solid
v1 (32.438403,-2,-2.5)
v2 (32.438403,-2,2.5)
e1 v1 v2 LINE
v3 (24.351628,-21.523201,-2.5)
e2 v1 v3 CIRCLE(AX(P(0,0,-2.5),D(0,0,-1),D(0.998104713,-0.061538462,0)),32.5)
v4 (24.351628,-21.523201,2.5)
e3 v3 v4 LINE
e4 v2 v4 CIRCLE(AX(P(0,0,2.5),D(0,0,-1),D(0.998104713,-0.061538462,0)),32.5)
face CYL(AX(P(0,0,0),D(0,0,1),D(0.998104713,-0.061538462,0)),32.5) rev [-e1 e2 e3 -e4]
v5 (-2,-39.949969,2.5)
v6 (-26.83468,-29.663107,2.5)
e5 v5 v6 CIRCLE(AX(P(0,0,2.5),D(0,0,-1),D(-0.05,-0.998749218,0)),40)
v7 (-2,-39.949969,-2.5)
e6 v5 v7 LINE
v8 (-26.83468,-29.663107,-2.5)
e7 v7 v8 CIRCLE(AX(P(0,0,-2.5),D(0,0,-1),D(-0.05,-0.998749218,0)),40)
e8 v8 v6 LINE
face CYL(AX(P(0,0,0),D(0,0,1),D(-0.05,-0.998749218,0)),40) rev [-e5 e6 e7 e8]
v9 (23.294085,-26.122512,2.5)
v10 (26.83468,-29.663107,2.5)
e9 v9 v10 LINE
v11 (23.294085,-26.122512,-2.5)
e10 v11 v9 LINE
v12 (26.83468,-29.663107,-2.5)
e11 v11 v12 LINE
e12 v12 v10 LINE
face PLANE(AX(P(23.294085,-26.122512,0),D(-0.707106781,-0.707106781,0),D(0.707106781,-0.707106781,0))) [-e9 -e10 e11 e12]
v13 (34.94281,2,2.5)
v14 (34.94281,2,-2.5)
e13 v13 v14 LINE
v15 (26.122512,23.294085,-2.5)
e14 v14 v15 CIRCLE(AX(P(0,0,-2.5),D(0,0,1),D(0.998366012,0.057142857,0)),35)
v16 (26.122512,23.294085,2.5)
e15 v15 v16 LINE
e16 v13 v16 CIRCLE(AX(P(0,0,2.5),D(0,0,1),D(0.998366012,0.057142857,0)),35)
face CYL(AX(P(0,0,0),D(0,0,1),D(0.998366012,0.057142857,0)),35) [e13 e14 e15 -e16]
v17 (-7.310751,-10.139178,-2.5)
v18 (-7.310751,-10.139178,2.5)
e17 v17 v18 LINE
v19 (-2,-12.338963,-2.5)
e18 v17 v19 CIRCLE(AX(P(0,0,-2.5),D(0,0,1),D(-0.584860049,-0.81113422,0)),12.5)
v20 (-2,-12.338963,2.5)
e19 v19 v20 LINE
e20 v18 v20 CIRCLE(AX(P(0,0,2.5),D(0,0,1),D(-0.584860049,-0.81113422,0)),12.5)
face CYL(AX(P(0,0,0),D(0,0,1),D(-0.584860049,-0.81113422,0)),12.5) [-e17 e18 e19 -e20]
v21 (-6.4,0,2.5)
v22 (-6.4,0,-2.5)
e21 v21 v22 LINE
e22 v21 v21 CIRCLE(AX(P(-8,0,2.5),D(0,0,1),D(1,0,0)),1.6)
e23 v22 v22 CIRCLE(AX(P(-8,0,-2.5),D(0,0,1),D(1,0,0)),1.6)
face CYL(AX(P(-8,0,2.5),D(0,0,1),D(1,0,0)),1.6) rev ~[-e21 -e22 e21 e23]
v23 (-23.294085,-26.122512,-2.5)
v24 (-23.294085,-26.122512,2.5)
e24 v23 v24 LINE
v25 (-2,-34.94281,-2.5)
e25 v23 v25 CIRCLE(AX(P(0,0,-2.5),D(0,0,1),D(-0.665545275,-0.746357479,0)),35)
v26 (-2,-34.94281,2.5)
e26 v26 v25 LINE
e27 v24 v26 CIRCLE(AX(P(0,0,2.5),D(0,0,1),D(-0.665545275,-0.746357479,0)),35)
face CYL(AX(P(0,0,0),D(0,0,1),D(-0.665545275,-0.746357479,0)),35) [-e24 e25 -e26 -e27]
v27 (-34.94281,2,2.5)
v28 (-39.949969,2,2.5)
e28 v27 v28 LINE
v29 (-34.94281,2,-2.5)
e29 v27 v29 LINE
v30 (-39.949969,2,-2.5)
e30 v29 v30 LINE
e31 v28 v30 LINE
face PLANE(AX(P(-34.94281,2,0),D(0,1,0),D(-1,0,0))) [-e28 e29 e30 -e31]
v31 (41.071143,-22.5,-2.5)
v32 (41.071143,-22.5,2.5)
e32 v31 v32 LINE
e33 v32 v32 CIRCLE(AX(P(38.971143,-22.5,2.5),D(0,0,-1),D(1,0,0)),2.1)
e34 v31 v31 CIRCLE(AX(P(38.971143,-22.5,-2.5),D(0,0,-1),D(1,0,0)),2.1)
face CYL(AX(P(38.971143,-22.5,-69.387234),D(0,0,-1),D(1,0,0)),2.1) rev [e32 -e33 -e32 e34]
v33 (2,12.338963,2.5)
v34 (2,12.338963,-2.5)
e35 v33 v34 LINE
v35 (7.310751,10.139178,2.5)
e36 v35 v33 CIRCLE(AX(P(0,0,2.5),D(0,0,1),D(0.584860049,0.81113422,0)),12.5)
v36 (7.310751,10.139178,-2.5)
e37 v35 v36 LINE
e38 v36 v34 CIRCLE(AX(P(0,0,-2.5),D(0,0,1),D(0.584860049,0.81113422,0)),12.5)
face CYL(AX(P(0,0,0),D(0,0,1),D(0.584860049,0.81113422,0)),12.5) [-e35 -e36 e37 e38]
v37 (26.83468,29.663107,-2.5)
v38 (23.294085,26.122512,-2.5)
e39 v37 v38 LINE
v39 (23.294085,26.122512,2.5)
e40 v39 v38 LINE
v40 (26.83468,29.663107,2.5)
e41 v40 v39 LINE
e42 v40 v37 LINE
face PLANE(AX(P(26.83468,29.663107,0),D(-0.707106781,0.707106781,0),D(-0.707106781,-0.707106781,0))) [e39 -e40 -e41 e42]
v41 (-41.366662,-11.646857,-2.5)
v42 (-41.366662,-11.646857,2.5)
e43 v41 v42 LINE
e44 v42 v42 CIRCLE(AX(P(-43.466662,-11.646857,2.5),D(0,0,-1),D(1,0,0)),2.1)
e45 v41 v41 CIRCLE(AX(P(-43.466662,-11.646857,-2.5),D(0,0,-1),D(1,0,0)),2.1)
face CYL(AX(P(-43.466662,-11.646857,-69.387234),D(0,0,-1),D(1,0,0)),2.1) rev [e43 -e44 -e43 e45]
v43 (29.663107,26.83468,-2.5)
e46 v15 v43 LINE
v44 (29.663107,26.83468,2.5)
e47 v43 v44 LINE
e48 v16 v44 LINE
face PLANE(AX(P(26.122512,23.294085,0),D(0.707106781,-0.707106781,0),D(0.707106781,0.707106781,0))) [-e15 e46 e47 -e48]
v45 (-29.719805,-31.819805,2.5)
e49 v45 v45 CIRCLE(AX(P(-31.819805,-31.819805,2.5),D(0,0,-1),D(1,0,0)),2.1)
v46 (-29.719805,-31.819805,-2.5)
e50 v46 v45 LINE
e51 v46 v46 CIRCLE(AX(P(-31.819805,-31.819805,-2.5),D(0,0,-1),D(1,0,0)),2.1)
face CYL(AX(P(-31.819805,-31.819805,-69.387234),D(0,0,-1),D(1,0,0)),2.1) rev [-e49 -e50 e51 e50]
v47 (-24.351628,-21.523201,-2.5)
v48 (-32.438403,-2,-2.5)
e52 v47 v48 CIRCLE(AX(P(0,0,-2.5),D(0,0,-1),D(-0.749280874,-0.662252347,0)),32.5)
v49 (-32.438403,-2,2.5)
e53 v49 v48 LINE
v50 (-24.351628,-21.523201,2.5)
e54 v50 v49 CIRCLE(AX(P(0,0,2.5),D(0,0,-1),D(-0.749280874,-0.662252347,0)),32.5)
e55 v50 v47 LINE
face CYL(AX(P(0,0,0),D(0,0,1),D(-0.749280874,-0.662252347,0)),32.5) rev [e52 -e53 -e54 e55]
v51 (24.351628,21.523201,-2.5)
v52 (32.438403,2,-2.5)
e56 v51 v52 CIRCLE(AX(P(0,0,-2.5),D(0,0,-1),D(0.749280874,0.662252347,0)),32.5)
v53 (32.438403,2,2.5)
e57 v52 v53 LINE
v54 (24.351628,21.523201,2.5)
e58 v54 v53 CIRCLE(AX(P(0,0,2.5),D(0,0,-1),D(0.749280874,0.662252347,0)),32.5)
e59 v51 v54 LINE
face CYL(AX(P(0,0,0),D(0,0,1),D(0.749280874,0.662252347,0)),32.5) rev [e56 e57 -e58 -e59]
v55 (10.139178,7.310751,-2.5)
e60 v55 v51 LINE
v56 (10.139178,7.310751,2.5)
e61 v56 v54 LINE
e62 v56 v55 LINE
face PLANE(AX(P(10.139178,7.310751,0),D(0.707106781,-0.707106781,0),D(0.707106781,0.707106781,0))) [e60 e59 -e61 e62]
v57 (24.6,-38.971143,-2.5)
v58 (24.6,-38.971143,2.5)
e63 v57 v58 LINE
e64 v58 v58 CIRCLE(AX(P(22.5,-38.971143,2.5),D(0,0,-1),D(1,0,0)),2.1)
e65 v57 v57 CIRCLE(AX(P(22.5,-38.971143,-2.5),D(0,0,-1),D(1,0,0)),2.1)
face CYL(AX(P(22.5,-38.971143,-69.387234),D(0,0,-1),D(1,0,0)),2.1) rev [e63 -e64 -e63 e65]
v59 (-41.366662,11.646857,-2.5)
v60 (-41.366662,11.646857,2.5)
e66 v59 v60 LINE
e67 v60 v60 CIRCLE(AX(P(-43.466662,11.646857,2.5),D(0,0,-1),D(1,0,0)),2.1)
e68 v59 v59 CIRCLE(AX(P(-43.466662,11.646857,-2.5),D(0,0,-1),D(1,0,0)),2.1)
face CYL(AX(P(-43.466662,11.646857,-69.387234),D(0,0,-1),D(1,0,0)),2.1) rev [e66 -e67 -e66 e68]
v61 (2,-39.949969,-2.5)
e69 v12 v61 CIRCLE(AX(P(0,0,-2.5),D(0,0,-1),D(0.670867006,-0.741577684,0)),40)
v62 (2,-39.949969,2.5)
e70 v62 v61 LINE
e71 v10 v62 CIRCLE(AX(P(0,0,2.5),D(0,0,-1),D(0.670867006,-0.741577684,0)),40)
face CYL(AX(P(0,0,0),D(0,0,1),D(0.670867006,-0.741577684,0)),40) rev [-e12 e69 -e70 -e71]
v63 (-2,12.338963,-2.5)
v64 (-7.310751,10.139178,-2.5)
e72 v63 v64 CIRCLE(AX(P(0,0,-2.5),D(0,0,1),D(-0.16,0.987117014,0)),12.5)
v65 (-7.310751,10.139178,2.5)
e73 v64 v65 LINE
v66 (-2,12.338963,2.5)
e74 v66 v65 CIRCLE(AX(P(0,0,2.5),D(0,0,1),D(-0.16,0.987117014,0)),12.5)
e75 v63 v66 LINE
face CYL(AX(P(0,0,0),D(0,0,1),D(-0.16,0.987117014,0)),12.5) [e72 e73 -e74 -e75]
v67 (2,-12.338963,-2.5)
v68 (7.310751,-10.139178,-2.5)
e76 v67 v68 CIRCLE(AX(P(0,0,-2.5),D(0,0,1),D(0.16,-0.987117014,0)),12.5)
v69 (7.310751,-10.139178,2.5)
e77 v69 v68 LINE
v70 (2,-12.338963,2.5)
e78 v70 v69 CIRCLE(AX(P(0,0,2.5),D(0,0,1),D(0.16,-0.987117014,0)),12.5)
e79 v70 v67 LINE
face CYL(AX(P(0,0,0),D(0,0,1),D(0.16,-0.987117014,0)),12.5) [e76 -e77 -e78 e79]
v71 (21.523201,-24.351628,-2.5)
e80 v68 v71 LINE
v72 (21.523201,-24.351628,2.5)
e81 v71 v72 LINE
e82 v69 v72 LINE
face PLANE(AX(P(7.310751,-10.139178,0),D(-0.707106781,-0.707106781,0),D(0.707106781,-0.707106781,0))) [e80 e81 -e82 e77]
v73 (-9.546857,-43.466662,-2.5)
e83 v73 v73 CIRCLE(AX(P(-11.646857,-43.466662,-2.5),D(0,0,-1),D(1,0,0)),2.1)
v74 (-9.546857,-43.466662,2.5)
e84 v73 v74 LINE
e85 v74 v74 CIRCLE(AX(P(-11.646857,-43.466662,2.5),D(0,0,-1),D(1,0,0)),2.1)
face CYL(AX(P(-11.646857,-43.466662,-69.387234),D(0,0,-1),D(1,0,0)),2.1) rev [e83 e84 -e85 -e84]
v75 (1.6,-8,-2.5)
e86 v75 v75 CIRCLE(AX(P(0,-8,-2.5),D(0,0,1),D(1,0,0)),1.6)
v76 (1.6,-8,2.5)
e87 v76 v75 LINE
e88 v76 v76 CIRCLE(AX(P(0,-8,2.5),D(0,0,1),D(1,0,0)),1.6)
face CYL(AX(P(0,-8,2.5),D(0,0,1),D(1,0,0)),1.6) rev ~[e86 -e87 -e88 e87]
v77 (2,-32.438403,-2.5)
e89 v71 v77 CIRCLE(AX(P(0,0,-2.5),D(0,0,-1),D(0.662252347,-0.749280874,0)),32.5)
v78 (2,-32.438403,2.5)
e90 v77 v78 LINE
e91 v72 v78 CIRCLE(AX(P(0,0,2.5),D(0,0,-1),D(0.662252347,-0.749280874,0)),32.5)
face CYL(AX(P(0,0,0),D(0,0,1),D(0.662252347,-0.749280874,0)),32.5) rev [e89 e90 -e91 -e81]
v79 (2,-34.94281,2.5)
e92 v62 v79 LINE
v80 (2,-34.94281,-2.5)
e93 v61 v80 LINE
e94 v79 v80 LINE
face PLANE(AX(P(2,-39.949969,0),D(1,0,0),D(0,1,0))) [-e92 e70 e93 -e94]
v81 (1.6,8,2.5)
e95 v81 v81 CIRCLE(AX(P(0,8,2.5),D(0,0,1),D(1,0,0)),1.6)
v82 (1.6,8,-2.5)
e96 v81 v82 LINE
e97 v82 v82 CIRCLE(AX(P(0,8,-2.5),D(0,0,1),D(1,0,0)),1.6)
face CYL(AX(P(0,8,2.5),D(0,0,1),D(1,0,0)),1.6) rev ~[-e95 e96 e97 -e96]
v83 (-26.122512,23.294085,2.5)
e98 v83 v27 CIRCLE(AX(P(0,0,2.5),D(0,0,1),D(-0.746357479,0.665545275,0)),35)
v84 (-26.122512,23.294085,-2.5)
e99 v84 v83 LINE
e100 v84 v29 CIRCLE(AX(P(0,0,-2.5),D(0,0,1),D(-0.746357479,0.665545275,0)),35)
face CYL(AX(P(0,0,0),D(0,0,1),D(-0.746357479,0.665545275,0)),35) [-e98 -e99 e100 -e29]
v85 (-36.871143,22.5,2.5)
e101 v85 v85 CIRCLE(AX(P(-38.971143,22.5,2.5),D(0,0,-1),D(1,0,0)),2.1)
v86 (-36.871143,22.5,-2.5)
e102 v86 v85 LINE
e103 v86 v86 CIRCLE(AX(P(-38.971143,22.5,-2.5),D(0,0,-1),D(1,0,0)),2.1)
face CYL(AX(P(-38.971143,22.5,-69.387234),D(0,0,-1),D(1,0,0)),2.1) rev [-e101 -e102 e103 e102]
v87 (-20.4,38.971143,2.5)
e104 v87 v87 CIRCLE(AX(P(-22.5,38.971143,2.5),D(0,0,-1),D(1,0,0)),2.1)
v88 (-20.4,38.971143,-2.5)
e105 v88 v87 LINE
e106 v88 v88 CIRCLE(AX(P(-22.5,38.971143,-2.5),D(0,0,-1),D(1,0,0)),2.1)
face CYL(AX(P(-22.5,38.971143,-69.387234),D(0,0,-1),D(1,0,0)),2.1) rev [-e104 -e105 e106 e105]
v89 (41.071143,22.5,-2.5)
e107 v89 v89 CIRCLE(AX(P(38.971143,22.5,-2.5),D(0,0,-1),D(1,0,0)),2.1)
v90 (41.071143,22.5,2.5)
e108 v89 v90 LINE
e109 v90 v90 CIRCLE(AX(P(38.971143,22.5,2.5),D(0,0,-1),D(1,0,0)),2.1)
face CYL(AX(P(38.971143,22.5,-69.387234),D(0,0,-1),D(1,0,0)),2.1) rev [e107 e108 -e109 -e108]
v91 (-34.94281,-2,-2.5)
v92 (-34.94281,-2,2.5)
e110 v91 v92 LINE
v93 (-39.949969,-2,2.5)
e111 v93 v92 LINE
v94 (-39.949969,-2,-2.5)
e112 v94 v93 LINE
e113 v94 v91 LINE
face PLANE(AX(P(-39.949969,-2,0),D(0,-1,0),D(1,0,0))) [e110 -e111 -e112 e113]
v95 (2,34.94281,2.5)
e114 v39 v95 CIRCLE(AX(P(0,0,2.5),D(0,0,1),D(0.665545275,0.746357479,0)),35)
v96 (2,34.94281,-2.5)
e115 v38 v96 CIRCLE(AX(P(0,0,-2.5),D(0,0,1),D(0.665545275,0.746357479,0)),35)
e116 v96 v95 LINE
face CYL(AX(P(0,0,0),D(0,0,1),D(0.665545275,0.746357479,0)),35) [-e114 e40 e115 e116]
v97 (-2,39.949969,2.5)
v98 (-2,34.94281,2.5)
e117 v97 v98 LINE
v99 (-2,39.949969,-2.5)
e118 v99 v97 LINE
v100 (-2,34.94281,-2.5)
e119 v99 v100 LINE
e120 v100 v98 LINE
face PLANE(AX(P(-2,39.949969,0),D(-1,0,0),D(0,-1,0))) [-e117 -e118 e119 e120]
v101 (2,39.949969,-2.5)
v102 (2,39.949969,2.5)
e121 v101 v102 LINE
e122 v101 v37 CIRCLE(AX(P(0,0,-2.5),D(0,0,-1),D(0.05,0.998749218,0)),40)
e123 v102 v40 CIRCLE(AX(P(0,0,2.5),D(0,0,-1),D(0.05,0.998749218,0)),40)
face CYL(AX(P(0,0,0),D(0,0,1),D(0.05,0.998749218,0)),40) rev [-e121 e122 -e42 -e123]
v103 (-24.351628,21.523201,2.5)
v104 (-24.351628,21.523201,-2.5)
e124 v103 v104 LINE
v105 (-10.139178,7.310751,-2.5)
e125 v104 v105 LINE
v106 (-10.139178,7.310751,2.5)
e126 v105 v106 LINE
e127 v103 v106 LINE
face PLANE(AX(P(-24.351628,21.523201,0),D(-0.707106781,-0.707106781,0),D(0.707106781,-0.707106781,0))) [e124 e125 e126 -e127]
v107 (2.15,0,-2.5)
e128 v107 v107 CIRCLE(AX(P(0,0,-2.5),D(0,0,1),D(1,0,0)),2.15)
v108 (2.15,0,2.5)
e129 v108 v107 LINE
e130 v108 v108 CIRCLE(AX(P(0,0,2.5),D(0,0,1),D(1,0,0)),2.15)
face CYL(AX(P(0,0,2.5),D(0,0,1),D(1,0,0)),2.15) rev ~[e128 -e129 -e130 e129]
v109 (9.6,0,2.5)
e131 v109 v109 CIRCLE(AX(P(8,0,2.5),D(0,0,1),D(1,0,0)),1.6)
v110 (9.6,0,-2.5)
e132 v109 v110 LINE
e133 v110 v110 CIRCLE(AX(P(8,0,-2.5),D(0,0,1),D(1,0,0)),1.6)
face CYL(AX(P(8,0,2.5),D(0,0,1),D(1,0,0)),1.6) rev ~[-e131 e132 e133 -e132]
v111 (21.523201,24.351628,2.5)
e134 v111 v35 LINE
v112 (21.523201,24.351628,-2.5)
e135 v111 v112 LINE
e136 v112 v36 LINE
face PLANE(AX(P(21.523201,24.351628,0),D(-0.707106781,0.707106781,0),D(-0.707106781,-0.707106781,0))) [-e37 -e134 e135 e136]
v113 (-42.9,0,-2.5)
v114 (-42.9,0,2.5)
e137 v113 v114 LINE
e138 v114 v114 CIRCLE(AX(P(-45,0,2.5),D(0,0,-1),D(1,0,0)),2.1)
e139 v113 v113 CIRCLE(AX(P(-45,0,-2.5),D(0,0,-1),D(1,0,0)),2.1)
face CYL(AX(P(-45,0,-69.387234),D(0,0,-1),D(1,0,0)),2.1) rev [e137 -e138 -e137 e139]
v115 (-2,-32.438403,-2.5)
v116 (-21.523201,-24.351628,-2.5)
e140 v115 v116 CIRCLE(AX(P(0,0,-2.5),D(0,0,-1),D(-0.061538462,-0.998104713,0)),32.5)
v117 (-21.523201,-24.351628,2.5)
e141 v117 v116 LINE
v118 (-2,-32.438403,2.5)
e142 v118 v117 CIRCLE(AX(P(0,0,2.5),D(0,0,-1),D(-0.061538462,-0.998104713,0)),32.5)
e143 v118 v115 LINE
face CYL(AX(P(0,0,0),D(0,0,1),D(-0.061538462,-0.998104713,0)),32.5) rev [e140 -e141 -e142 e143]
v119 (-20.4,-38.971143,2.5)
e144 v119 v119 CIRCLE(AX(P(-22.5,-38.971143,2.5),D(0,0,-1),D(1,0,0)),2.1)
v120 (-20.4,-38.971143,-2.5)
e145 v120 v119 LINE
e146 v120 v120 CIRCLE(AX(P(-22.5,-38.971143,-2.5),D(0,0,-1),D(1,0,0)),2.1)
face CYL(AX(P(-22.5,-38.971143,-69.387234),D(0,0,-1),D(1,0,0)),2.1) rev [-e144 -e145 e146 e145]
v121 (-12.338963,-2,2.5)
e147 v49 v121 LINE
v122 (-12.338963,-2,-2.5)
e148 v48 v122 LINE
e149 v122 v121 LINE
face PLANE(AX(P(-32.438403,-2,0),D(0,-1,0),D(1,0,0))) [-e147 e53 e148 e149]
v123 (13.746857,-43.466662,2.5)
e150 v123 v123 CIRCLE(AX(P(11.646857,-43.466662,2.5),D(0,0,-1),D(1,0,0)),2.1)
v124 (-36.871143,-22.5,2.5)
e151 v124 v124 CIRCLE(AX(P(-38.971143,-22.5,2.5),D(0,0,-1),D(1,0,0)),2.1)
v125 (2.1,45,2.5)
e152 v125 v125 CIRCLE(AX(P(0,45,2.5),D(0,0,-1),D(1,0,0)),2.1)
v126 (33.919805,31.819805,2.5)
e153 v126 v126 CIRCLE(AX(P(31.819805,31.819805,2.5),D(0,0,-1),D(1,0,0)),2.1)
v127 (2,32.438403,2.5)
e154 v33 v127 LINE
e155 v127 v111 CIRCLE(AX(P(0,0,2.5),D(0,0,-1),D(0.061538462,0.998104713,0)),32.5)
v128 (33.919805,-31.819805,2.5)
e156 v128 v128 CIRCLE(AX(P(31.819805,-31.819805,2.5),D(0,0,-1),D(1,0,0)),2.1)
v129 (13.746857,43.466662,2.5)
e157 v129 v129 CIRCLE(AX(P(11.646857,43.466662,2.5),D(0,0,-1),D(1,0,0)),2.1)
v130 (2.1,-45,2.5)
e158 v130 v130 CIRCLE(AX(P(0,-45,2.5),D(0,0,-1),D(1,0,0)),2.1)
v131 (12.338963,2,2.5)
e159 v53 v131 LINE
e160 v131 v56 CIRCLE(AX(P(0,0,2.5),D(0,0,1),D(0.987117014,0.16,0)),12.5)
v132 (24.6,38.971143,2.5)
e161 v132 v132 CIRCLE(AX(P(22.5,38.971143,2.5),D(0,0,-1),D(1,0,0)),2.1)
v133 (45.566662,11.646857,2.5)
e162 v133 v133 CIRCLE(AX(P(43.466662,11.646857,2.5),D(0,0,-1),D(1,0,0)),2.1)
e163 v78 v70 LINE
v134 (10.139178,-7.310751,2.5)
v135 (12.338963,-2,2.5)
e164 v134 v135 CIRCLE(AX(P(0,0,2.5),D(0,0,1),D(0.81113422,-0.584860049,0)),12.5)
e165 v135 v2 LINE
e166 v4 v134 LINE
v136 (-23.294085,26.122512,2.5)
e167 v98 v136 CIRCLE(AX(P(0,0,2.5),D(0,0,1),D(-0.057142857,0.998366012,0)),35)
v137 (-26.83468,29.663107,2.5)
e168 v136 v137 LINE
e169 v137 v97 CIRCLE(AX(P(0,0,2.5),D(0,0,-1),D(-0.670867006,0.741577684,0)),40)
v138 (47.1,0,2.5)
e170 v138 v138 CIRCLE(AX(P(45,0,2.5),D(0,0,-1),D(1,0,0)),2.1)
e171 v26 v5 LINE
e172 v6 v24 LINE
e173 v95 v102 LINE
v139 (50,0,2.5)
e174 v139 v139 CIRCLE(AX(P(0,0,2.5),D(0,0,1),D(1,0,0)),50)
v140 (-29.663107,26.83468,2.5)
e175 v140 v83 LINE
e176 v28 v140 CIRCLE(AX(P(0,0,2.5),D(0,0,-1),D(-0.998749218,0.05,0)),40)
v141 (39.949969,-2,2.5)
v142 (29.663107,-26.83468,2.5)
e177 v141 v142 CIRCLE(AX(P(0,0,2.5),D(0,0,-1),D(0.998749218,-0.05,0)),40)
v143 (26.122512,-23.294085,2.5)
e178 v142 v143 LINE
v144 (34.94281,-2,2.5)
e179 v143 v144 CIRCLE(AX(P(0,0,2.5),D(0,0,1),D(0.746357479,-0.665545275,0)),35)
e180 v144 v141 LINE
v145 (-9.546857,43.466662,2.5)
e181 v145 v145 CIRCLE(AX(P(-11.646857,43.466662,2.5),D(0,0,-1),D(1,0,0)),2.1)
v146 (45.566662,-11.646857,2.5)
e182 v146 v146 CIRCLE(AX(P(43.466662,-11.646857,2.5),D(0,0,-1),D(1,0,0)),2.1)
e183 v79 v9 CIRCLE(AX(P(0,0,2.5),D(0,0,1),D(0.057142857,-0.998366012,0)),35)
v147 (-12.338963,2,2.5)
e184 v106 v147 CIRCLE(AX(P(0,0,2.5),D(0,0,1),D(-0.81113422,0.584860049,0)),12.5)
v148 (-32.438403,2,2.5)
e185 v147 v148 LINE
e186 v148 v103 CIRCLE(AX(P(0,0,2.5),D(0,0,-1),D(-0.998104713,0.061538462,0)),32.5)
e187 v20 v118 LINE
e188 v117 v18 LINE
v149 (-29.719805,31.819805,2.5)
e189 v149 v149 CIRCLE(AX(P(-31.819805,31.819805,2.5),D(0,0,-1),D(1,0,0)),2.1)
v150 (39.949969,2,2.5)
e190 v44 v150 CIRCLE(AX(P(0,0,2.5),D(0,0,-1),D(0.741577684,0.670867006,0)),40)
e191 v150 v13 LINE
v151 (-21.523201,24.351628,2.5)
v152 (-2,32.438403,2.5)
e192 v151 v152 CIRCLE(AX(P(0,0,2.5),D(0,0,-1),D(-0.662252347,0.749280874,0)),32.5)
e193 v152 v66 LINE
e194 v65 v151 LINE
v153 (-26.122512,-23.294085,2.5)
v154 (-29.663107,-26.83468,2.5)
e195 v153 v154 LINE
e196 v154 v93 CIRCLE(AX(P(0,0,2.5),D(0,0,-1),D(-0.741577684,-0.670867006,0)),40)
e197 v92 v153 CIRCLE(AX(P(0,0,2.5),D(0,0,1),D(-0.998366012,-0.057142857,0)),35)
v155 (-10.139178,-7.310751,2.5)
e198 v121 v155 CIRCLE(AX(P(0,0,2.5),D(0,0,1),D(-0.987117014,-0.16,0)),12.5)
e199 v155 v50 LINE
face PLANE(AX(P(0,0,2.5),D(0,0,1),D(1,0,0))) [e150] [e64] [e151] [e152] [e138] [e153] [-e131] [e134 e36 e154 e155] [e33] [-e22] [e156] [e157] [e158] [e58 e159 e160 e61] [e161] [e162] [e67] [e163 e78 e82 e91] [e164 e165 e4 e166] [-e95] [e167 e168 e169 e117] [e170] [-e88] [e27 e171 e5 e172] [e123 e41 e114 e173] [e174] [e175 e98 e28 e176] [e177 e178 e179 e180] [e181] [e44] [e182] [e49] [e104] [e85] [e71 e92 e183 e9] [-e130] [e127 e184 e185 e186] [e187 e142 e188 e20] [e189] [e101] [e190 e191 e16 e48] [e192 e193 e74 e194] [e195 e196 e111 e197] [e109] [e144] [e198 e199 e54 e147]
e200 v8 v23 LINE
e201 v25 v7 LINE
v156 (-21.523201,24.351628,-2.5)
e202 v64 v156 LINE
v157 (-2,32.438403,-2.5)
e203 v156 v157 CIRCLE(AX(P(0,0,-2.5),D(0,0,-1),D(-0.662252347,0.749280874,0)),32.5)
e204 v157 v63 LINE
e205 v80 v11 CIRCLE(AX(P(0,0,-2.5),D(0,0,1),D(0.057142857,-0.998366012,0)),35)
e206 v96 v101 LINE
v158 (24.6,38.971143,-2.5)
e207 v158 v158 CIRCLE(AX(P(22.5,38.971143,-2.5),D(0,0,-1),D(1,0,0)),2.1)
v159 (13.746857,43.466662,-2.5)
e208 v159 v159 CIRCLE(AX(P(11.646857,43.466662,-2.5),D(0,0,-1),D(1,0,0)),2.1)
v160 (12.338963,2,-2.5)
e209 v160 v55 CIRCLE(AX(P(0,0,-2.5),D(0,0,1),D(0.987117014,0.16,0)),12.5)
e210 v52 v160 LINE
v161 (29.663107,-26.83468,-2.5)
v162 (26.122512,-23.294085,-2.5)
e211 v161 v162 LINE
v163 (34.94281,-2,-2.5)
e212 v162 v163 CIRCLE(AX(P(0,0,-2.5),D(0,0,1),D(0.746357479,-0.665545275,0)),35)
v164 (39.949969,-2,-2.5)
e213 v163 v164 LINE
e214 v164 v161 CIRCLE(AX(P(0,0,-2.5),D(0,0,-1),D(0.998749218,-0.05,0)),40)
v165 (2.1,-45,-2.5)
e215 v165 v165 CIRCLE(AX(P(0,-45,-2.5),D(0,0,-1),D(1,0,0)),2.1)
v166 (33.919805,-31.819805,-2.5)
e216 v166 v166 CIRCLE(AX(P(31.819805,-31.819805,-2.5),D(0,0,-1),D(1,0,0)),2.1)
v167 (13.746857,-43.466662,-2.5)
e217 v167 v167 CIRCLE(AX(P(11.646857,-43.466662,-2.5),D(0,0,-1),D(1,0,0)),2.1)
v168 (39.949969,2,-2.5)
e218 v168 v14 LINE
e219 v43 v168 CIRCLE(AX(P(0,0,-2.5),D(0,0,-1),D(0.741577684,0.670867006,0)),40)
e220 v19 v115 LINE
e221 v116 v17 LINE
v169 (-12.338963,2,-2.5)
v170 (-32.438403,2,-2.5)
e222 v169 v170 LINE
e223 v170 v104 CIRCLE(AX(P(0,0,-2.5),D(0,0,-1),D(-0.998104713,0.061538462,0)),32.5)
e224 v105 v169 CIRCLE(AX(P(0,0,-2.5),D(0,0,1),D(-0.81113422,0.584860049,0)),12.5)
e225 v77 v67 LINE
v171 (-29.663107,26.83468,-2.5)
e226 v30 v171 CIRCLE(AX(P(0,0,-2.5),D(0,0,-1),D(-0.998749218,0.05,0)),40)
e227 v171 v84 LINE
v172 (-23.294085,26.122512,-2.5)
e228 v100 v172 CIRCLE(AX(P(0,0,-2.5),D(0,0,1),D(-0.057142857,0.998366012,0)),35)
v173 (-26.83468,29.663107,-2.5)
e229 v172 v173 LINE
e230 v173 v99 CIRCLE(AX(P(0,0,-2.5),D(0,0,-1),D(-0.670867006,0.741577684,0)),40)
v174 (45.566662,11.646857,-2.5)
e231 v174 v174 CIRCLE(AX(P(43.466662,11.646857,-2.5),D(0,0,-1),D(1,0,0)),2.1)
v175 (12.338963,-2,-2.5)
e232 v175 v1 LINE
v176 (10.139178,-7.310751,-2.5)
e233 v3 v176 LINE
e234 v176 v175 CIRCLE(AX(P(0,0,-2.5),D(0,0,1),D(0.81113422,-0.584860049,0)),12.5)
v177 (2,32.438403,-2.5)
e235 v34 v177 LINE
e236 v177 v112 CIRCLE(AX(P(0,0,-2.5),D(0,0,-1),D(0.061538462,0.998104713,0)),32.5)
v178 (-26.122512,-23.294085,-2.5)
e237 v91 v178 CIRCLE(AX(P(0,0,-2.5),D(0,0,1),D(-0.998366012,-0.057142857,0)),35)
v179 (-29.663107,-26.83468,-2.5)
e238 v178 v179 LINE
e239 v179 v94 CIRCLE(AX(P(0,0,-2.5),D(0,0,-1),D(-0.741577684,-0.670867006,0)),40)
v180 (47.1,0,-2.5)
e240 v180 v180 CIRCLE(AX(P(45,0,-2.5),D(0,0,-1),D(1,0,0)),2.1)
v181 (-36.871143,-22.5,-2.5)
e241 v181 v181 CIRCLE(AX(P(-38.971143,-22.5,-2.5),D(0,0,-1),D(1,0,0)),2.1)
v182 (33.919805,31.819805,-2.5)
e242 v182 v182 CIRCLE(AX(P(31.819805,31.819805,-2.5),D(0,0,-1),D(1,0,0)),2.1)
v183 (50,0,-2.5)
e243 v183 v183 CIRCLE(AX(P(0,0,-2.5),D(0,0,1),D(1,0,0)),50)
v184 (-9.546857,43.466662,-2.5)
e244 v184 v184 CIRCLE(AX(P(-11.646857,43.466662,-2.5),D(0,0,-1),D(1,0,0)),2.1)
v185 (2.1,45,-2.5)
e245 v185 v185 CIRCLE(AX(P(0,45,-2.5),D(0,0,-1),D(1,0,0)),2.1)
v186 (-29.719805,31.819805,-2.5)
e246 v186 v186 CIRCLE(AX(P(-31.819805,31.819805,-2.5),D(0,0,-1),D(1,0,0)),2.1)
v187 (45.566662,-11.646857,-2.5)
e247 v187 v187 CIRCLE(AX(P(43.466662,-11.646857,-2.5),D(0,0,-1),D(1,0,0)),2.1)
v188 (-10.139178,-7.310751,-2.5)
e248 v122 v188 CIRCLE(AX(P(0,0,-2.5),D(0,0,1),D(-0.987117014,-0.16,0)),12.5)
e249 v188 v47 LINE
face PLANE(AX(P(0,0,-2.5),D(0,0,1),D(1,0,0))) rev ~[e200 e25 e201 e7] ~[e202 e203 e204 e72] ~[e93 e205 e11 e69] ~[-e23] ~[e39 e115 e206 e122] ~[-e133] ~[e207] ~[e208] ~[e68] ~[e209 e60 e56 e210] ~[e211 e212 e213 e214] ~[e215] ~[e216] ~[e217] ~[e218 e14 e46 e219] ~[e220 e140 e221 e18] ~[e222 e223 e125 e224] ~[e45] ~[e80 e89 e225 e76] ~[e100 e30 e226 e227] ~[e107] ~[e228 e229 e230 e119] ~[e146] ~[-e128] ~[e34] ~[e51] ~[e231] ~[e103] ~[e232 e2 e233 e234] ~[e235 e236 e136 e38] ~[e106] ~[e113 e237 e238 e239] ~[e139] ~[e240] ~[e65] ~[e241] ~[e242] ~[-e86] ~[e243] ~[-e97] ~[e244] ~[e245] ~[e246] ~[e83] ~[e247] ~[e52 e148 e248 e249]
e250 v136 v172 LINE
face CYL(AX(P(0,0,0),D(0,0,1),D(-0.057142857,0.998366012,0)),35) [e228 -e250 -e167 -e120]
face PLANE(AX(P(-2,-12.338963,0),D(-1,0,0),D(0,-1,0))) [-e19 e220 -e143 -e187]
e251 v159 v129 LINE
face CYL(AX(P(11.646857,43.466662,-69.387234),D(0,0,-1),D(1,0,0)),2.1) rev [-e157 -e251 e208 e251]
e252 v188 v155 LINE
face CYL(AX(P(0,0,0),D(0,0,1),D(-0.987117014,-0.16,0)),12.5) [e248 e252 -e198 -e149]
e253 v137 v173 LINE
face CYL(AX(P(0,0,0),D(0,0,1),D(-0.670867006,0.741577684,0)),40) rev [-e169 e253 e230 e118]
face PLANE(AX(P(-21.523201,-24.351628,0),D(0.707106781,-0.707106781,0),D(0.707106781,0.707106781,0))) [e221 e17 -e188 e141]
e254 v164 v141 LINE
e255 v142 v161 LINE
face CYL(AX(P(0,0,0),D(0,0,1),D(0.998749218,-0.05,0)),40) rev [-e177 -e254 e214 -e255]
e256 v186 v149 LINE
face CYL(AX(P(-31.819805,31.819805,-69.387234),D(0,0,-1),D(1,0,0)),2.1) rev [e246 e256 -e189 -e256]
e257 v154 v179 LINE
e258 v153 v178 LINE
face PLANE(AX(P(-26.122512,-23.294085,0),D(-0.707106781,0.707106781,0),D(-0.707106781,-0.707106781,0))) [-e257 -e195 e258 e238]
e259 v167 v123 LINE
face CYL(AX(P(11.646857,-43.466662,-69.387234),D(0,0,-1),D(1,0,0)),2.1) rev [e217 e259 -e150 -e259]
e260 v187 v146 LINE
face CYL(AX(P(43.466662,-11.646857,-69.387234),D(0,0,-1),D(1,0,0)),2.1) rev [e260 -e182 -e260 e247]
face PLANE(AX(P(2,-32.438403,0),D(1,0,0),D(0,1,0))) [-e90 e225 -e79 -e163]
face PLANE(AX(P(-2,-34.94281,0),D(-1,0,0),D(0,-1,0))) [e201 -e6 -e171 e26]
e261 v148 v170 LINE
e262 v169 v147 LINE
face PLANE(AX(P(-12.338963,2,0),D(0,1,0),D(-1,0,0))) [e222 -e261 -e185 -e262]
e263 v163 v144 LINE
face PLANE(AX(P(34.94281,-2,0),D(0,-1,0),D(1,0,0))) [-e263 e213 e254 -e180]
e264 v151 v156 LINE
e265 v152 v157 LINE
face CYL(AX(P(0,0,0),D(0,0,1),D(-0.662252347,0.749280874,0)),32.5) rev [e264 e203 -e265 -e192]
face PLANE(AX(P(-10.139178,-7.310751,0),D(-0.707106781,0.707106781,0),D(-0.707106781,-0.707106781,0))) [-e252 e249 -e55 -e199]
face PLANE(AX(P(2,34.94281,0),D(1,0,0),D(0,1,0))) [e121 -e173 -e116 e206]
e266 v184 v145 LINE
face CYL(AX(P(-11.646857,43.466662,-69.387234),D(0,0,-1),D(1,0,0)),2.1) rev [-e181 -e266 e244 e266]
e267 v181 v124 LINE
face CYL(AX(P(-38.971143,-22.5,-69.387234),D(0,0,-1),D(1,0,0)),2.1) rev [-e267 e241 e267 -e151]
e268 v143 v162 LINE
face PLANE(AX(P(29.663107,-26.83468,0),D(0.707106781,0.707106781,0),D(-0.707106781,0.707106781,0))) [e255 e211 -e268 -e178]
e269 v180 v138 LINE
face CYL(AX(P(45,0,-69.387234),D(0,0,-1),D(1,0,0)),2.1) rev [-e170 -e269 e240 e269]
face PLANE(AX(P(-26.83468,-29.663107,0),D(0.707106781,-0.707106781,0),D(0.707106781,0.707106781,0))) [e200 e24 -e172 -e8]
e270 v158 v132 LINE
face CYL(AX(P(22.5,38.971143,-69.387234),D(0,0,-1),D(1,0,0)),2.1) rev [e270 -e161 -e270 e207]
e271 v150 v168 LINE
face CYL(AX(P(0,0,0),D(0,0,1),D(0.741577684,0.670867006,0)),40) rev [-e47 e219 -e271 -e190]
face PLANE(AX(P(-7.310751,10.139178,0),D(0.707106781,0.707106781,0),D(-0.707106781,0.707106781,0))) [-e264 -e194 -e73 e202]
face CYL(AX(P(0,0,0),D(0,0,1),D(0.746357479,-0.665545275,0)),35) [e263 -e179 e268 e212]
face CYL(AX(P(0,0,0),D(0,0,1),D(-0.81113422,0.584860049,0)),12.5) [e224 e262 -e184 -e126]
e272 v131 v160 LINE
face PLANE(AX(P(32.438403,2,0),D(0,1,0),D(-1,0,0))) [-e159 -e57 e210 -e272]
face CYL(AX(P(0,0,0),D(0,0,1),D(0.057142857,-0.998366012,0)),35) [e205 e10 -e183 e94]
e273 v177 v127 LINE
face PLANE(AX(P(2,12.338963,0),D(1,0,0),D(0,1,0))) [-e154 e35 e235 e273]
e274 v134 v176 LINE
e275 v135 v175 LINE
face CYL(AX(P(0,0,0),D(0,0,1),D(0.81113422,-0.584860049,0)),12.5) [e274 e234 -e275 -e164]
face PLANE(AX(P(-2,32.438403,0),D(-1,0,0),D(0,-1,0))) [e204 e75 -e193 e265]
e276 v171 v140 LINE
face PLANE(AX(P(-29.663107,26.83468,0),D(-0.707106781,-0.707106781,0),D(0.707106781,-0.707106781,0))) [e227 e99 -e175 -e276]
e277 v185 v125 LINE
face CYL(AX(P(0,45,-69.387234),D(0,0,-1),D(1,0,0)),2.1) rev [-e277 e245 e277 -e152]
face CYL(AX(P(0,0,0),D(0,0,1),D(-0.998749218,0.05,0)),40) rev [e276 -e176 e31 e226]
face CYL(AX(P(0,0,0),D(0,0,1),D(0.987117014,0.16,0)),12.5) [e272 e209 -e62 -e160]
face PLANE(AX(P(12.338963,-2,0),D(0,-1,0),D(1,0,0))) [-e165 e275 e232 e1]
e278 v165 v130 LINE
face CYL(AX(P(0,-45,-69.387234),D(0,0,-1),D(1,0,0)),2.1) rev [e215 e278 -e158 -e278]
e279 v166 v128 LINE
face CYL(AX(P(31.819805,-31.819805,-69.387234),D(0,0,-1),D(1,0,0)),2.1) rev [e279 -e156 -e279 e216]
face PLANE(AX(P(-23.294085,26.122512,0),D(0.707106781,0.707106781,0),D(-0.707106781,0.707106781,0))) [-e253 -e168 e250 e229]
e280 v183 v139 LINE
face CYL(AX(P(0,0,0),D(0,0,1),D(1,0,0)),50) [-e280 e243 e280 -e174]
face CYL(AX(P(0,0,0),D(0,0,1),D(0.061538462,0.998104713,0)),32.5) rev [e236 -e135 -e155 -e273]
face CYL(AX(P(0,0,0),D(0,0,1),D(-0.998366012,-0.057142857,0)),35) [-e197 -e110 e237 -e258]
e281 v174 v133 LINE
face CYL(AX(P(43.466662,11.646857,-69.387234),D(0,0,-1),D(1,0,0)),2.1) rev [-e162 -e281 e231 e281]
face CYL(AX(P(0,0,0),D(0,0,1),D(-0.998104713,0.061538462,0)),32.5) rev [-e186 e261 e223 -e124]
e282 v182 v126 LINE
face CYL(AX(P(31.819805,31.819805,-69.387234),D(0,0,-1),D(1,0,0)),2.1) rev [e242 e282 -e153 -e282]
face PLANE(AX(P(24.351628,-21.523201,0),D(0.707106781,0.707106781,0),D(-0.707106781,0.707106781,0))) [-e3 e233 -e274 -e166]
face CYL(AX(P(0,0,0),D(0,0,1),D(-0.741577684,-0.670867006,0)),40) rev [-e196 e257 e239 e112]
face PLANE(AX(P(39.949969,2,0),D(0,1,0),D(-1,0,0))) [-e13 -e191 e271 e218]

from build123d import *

# Parameters (mm, degrees)
SKETCH1_R           = 50
EXTRUDE2_DEPTH      = 2.5
EXTRUDE3_DEPTH      = 71.887234394
EXTRUDE3_DEPTH_BACK = 71.887234394
SKETCH2_R           = 2.1
EXTRUDE4_REACH      = 72.887
SKETCH3_R           = 1.6
SKETCH3_R_2         = 2.15


with BuildPart() as part:
    # Sketch1 → Extrude2 (new, symmetric)
    with BuildSketch(Plane.XY):
        Circle(SKETCH1_R)
        with BuildLine():
            Line((-2, 39.949968711), (-2, 34.942810419))
            ThreePointArc((-2, 34.942810419), (-13.393920133, 32.335783638), (-23.294084639, 26.122511764))
            Line((-23.294084639, 26.122511764), (-26.834680221, 29.663107346))
            ThreePointArc((-26.834680221, 29.663107346), (-15.307337295, 36.9551813), (-2, 39.949968711))
        make_face(mode=Mode.SUBTRACT)
        with BuildLine():
            Line((2, 34.942810419), (2, 39.949968711))
            ThreePointArc((2, 39.949968711), (15.307337295, 36.9551813), (26.834680221, 29.663107346))
            Line((26.834680221, 29.663107346), (23.294084639, 26.122511764))
            ThreePointArc((23.294084639, 26.122511764), (13.393920133, 32.335783638), (2, 34.942810419))
        make_face(mode=Mode.SUBTRACT)
        with BuildLine():
            Line((-29.663107346, 26.834680221), (-26.122511764, 23.294084639))
            ThreePointArc((-26.122511764, 23.294084639), (-32.335783638, 13.393920133), (-34.942810419, 2))
            Line((-34.942810419, 2), (-39.949968711, 2))
            ThreePointArc((-39.949968711, 2), (-36.9551813, 15.307337295), (-29.663107346, 26.834680221))
        make_face(mode=Mode.SUBTRACT)
        with BuildLine():
            Line((26.122511764, 23.294084639), (29.663107346, 26.834680221))
            ThreePointArc((29.663107346, 26.834680221), (36.9551813, 15.307337295), (39.949968711, 2))
            Line((39.949968711, 2), (34.942810419, 2))
            ThreePointArc((34.942810419, 2), (32.335783638, 13.393920133), (26.122511764, 23.294084639))
        make_face(mode=Mode.SUBTRACT)
        with BuildLine():
            Line((-39.949968711, -2), (-34.942810419, -2))
            ThreePointArc((-34.942810419, -2), (-32.335783638, -13.393920133), (-26.122511764, -23.294084639))
            Line((-26.122511764, -23.294084639), (-29.663107346, -26.834680221))
            ThreePointArc((-29.663107346, -26.834680221), (-36.9551813, -15.307337295), (-39.949968711, -2))
        make_face(mode=Mode.SUBTRACT)
        with BuildLine():
            Line((34.942810419, -2), (39.949968711, -2))
            ThreePointArc((39.949968711, -2), (36.9551813, -15.307337295), (29.663107346, -26.834680221))
            Line((29.663107346, -26.834680221), (26.122511764, -23.294084639))
            ThreePointArc((26.122511764, -23.294084639), (32.335783638, -13.393920133), (34.942810419, -2))
        make_face(mode=Mode.SUBTRACT)
        with BuildLine():
            Line((-26.834680221, -29.663107346), (-23.294084639, -26.122511764))
            ThreePointArc((-23.294084639, -26.122511764), (-13.393920133, -32.335783638), (-2, -34.942810419))
            Line((-2, -34.942810419), (-2, -39.949968711))
            ThreePointArc((-2, -39.949968711), (-15.307337295, -36.9551813), (-26.834680221, -29.663107346))
        make_face(mode=Mode.SUBTRACT)
        with BuildLine():
            Line((23.294084639, -26.122511764), (26.834680221, -29.663107346))
            ThreePointArc((26.834680221, -29.663107346), (15.307337295, -36.9551813), (2, -39.949968711))
            Line((2, -39.949968711), (2, -34.942810419))
            ThreePointArc((2, -34.942810419), (13.393920133, -32.335783638), (23.294084639, -26.122511764))
        make_face(mode=Mode.SUBTRACT)
        with BuildLine():
            ThreePointArc((-7.310750621, -10.139177746), (-4.783542905, -11.548494156), (-2, -12.338962679))
            Line((-2, -12.338962679), (-2, -32.438403167))
            ThreePointArc((-2, -32.438403167), (-12.437211552, -30.026084807), (-21.523201288, -24.351628412))
            Line((-21.523201288, -24.351628412), (-7.310750621, -10.139177746))
        make_face(mode=Mode.SUBTRACT)
        with BuildLine():
            ThreePointArc((-12.338962679, -2), (-11.548494156, -4.783542905), (-10.139177746, -7.310750621))
            Line((-10.139177746, -7.310750621), (-24.351628412, -21.523201288))
            ThreePointArc((-24.351628412, -21.523201288), (-30.026084807, -12.437211552), (-32.438403167, -2))
            Line((-32.438403167, -2), (-12.338962679, -2))
        make_face(mode=Mode.SUBTRACT)
        with BuildLine():
            ThreePointArc((21.523201288, -24.351628412), (12.437211552, -30.026084807), (2, -32.438403167))
            Line((2, -32.438403167), (2, -12.338962679))
            ThreePointArc((2, -12.338962679), (4.783542905, -11.548494156), (7.310750621, -10.139177746))
            Line((7.310750621, -10.139177746), (21.523201288, -24.351628412))
        make_face(mode=Mode.SUBTRACT)
        with BuildLine():
            ThreePointArc((32.438403167, -2), (30.026084807, -12.437211552), (24.351628412, -21.523201288))
            Line((24.351628412, -21.523201288), (10.139177746, -7.310750621))
            ThreePointArc((10.139177746, -7.310750621), (11.548494156, -4.783542905), (12.338962679, -2))
            Line((12.338962679, -2), (32.438403167, -2))
        make_face(mode=Mode.SUBTRACT)
        with BuildLine():
            ThreePointArc((-10.139177746, 7.310750621), (-11.548494156, 4.783542905), (-12.338962679, 2))
            Line((-12.338962679, 2), (-32.438403167, 2))
            ThreePointArc((-32.438403167, 2), (-30.026084807, 12.437211552), (-24.351628412, 21.523201288))
            Line((-24.351628412, 21.523201288), (-10.139177746, 7.310750621))
        make_face(mode=Mode.SUBTRACT)
        with BuildLine():
            ThreePointArc((-2, 12.338962679), (-4.783542905, 11.548494156), (-7.310750621, 10.139177746))
            Line((-7.310750621, 10.139177746), (-21.523201288, 24.351628412))
            ThreePointArc((-21.523201288, 24.351628412), (-12.437211552, 30.026084807), (-2, 32.438403167))
            Line((-2, 32.438403167), (-2, 12.338962679))
        make_face(mode=Mode.SUBTRACT)
        with BuildLine():
            ThreePointArc((24.351628412, 21.523201288), (30.026084807, 12.437211552), (32.438403167, 2))
            Line((32.438403167, 2), (12.338962679, 2))
            ThreePointArc((12.338962679, 2), (11.548494156, 4.783542905), (10.139177746, 7.310750621))
            Line((10.139177746, 7.310750621), (24.351628412, 21.523201288))
        make_face(mode=Mode.SUBTRACT)
        with BuildLine():
            ThreePointArc((2, 32.438403167), (12.437211552, 30.026084807), (21.523201288, 24.351628412))
            Line((21.523201288, 24.351628412), (7.310750621, 10.139177746))
            ThreePointArc((7.310750621, 10.139177746), (4.783542905, 11.548494156), (2, 12.338962679))
            Line((2, 12.338962679), (2, 32.438403167))
        make_face(mode=Mode.SUBTRACT)
    extrude(amount=EXTRUDE2_DEPTH, both=True)

    # Sketch2 → Extrude3 (cut, two sides: drawn at the far end of the back side and taken through both)
    with BuildSketch(Plane.XY.offset(2.5).offset(-EXTRUDE3_DEPTH_BACK)):
        with Locations((0, 45)):
            Circle(SKETCH2_R)
        with Locations((11.64685703, 43.466662183)):
            Circle(SKETCH2_R)
        with Locations((22.5, 38.97114317)):
            Circle(SKETCH2_R)
        with Locations((31.819805153, 31.819805153)):
            Circle(SKETCH2_R)
        with Locations((38.97114317, 22.5)):
            Circle(SKETCH2_R)
        with Locations((43.466662183, 11.64685703)):
            Circle(SKETCH2_R)
        with Locations((45, 0)):
            Circle(SKETCH2_R)
        with Locations((43.466662183, -11.64685703)):
            Circle(SKETCH2_R)
        with Locations((38.97114317, -22.5)):
            Circle(SKETCH2_R)
        with Locations((31.819805153, -31.819805153)):
            Circle(SKETCH2_R)
        with Locations((22.5, -38.97114317)):
            Circle(SKETCH2_R)
        with Locations((11.64685703, -43.466662183)):
            Circle(SKETCH2_R)
        with Locations((0, -45)):
            Circle(SKETCH2_R)
        with Locations((-11.64685703, -43.466662183)):
            Circle(SKETCH2_R)
        with Locations((-22.5, -38.97114317)):
            Circle(SKETCH2_R)
        with Locations((-31.819805153, -31.819805153)):
            Circle(SKETCH2_R)
        with Locations((-38.97114317, -22.5)):
            Circle(SKETCH2_R)
        with Locations((-43.466662183, -11.64685703)):
            Circle(SKETCH2_R)
        with Locations((-45, 0)):
            Circle(SKETCH2_R)
        with Locations((-43.466662183, 11.64685703)):
            Circle(SKETCH2_R)
        with Locations((-38.97114317, 22.5)):
            Circle(SKETCH2_R)
        with Locations((-31.819805153, 31.819805153)):
            Circle(SKETCH2_R)
        with Locations((-22.5, 38.97114317)):
            Circle(SKETCH2_R)
        with Locations((-11.64685703, 43.466662183)):
            Circle(SKETCH2_R)
    extrude(amount=EXTRUDE3_DEPTH + EXTRUDE3_DEPTH_BACK, mode=Mode.SUBTRACT)

    # Sketch3 → Extrude4 (cut, up to next)
    with BuildSketch(Plane.XY.offset(2.5), mode=Mode.PRIVATE) as extrude4_sk1:
        with Locations((0, 8)):
            Circle(SKETCH3_R)
    extrude4_tool1 = extrude(extrude4_sk1.sketch, amount=-EXTRUDE4_REACH, mode=Mode.PRIVATE) & part.part
    # Sketch3 → Extrude4 (cut, up to next)
    with BuildSketch(Plane.XY.offset(2.5), mode=Mode.PRIVATE) as extrude4_sk2:
        Circle(SKETCH3_R_2)
    extrude4_tool2 = extrude(extrude4_sk2.sketch, amount=-EXTRUDE4_REACH, mode=Mode.PRIVATE) & part.part
    # Sketch3 → Extrude4 (cut, up to next)
    with BuildSketch(Plane.XY.offset(2.5), mode=Mode.PRIVATE) as extrude4_sk3:
        with Locations((8, 0)):
            Circle(SKETCH3_R)
    extrude4_tool3 = extrude(extrude4_sk3.sketch, amount=-EXTRUDE4_REACH, mode=Mode.PRIVATE) & part.part
    # Sketch3 → Extrude4 (cut, up to next)
    with BuildSketch(Plane.XY.offset(2.5), mode=Mode.PRIVATE) as extrude4_sk4:
        with Locations((0, -8)):
            Circle(SKETCH3_R)
    extrude4_tool4 = extrude(extrude4_sk4.sketch, amount=-EXTRUDE4_REACH, mode=Mode.PRIVATE) & part.part
    # Sketch3 → Extrude4 (cut, up to next)
    with BuildSketch(Plane.XY.offset(2.5), mode=Mode.PRIVATE) as extrude4_sk5:
        with Locations((-8, 0)):
            Circle(SKETCH3_R)
    extrude4_tool5 = extrude(extrude4_sk5.sketch, amount=-EXTRUDE4_REACH, mode=Mode.PRIVATE) & part.part
    add(extrude4_tool1.solids().sort_by_distance((0, 8, 2.5))[0], mode=Mode.SUBTRACT)
    add(extrude4_tool2.solids().sort_by_distance((0, 0, 2.5))[0], mode=Mode.SUBTRACT)
    add(extrude4_tool3.solids().sort_by_distance((8, 0, 2.5))[0], mode=Mode.SUBTRACT)
    add(extrude4_tool4.solids().sort_by_distance((0, -8, 2.5))[0], mode=Mode.SUBTRACT)
    add(extrude4_tool5.solids().sort_by_distance((-8, 0, 2.5))[0], mode=Mode.SUBTRACT)


solid = part.part
